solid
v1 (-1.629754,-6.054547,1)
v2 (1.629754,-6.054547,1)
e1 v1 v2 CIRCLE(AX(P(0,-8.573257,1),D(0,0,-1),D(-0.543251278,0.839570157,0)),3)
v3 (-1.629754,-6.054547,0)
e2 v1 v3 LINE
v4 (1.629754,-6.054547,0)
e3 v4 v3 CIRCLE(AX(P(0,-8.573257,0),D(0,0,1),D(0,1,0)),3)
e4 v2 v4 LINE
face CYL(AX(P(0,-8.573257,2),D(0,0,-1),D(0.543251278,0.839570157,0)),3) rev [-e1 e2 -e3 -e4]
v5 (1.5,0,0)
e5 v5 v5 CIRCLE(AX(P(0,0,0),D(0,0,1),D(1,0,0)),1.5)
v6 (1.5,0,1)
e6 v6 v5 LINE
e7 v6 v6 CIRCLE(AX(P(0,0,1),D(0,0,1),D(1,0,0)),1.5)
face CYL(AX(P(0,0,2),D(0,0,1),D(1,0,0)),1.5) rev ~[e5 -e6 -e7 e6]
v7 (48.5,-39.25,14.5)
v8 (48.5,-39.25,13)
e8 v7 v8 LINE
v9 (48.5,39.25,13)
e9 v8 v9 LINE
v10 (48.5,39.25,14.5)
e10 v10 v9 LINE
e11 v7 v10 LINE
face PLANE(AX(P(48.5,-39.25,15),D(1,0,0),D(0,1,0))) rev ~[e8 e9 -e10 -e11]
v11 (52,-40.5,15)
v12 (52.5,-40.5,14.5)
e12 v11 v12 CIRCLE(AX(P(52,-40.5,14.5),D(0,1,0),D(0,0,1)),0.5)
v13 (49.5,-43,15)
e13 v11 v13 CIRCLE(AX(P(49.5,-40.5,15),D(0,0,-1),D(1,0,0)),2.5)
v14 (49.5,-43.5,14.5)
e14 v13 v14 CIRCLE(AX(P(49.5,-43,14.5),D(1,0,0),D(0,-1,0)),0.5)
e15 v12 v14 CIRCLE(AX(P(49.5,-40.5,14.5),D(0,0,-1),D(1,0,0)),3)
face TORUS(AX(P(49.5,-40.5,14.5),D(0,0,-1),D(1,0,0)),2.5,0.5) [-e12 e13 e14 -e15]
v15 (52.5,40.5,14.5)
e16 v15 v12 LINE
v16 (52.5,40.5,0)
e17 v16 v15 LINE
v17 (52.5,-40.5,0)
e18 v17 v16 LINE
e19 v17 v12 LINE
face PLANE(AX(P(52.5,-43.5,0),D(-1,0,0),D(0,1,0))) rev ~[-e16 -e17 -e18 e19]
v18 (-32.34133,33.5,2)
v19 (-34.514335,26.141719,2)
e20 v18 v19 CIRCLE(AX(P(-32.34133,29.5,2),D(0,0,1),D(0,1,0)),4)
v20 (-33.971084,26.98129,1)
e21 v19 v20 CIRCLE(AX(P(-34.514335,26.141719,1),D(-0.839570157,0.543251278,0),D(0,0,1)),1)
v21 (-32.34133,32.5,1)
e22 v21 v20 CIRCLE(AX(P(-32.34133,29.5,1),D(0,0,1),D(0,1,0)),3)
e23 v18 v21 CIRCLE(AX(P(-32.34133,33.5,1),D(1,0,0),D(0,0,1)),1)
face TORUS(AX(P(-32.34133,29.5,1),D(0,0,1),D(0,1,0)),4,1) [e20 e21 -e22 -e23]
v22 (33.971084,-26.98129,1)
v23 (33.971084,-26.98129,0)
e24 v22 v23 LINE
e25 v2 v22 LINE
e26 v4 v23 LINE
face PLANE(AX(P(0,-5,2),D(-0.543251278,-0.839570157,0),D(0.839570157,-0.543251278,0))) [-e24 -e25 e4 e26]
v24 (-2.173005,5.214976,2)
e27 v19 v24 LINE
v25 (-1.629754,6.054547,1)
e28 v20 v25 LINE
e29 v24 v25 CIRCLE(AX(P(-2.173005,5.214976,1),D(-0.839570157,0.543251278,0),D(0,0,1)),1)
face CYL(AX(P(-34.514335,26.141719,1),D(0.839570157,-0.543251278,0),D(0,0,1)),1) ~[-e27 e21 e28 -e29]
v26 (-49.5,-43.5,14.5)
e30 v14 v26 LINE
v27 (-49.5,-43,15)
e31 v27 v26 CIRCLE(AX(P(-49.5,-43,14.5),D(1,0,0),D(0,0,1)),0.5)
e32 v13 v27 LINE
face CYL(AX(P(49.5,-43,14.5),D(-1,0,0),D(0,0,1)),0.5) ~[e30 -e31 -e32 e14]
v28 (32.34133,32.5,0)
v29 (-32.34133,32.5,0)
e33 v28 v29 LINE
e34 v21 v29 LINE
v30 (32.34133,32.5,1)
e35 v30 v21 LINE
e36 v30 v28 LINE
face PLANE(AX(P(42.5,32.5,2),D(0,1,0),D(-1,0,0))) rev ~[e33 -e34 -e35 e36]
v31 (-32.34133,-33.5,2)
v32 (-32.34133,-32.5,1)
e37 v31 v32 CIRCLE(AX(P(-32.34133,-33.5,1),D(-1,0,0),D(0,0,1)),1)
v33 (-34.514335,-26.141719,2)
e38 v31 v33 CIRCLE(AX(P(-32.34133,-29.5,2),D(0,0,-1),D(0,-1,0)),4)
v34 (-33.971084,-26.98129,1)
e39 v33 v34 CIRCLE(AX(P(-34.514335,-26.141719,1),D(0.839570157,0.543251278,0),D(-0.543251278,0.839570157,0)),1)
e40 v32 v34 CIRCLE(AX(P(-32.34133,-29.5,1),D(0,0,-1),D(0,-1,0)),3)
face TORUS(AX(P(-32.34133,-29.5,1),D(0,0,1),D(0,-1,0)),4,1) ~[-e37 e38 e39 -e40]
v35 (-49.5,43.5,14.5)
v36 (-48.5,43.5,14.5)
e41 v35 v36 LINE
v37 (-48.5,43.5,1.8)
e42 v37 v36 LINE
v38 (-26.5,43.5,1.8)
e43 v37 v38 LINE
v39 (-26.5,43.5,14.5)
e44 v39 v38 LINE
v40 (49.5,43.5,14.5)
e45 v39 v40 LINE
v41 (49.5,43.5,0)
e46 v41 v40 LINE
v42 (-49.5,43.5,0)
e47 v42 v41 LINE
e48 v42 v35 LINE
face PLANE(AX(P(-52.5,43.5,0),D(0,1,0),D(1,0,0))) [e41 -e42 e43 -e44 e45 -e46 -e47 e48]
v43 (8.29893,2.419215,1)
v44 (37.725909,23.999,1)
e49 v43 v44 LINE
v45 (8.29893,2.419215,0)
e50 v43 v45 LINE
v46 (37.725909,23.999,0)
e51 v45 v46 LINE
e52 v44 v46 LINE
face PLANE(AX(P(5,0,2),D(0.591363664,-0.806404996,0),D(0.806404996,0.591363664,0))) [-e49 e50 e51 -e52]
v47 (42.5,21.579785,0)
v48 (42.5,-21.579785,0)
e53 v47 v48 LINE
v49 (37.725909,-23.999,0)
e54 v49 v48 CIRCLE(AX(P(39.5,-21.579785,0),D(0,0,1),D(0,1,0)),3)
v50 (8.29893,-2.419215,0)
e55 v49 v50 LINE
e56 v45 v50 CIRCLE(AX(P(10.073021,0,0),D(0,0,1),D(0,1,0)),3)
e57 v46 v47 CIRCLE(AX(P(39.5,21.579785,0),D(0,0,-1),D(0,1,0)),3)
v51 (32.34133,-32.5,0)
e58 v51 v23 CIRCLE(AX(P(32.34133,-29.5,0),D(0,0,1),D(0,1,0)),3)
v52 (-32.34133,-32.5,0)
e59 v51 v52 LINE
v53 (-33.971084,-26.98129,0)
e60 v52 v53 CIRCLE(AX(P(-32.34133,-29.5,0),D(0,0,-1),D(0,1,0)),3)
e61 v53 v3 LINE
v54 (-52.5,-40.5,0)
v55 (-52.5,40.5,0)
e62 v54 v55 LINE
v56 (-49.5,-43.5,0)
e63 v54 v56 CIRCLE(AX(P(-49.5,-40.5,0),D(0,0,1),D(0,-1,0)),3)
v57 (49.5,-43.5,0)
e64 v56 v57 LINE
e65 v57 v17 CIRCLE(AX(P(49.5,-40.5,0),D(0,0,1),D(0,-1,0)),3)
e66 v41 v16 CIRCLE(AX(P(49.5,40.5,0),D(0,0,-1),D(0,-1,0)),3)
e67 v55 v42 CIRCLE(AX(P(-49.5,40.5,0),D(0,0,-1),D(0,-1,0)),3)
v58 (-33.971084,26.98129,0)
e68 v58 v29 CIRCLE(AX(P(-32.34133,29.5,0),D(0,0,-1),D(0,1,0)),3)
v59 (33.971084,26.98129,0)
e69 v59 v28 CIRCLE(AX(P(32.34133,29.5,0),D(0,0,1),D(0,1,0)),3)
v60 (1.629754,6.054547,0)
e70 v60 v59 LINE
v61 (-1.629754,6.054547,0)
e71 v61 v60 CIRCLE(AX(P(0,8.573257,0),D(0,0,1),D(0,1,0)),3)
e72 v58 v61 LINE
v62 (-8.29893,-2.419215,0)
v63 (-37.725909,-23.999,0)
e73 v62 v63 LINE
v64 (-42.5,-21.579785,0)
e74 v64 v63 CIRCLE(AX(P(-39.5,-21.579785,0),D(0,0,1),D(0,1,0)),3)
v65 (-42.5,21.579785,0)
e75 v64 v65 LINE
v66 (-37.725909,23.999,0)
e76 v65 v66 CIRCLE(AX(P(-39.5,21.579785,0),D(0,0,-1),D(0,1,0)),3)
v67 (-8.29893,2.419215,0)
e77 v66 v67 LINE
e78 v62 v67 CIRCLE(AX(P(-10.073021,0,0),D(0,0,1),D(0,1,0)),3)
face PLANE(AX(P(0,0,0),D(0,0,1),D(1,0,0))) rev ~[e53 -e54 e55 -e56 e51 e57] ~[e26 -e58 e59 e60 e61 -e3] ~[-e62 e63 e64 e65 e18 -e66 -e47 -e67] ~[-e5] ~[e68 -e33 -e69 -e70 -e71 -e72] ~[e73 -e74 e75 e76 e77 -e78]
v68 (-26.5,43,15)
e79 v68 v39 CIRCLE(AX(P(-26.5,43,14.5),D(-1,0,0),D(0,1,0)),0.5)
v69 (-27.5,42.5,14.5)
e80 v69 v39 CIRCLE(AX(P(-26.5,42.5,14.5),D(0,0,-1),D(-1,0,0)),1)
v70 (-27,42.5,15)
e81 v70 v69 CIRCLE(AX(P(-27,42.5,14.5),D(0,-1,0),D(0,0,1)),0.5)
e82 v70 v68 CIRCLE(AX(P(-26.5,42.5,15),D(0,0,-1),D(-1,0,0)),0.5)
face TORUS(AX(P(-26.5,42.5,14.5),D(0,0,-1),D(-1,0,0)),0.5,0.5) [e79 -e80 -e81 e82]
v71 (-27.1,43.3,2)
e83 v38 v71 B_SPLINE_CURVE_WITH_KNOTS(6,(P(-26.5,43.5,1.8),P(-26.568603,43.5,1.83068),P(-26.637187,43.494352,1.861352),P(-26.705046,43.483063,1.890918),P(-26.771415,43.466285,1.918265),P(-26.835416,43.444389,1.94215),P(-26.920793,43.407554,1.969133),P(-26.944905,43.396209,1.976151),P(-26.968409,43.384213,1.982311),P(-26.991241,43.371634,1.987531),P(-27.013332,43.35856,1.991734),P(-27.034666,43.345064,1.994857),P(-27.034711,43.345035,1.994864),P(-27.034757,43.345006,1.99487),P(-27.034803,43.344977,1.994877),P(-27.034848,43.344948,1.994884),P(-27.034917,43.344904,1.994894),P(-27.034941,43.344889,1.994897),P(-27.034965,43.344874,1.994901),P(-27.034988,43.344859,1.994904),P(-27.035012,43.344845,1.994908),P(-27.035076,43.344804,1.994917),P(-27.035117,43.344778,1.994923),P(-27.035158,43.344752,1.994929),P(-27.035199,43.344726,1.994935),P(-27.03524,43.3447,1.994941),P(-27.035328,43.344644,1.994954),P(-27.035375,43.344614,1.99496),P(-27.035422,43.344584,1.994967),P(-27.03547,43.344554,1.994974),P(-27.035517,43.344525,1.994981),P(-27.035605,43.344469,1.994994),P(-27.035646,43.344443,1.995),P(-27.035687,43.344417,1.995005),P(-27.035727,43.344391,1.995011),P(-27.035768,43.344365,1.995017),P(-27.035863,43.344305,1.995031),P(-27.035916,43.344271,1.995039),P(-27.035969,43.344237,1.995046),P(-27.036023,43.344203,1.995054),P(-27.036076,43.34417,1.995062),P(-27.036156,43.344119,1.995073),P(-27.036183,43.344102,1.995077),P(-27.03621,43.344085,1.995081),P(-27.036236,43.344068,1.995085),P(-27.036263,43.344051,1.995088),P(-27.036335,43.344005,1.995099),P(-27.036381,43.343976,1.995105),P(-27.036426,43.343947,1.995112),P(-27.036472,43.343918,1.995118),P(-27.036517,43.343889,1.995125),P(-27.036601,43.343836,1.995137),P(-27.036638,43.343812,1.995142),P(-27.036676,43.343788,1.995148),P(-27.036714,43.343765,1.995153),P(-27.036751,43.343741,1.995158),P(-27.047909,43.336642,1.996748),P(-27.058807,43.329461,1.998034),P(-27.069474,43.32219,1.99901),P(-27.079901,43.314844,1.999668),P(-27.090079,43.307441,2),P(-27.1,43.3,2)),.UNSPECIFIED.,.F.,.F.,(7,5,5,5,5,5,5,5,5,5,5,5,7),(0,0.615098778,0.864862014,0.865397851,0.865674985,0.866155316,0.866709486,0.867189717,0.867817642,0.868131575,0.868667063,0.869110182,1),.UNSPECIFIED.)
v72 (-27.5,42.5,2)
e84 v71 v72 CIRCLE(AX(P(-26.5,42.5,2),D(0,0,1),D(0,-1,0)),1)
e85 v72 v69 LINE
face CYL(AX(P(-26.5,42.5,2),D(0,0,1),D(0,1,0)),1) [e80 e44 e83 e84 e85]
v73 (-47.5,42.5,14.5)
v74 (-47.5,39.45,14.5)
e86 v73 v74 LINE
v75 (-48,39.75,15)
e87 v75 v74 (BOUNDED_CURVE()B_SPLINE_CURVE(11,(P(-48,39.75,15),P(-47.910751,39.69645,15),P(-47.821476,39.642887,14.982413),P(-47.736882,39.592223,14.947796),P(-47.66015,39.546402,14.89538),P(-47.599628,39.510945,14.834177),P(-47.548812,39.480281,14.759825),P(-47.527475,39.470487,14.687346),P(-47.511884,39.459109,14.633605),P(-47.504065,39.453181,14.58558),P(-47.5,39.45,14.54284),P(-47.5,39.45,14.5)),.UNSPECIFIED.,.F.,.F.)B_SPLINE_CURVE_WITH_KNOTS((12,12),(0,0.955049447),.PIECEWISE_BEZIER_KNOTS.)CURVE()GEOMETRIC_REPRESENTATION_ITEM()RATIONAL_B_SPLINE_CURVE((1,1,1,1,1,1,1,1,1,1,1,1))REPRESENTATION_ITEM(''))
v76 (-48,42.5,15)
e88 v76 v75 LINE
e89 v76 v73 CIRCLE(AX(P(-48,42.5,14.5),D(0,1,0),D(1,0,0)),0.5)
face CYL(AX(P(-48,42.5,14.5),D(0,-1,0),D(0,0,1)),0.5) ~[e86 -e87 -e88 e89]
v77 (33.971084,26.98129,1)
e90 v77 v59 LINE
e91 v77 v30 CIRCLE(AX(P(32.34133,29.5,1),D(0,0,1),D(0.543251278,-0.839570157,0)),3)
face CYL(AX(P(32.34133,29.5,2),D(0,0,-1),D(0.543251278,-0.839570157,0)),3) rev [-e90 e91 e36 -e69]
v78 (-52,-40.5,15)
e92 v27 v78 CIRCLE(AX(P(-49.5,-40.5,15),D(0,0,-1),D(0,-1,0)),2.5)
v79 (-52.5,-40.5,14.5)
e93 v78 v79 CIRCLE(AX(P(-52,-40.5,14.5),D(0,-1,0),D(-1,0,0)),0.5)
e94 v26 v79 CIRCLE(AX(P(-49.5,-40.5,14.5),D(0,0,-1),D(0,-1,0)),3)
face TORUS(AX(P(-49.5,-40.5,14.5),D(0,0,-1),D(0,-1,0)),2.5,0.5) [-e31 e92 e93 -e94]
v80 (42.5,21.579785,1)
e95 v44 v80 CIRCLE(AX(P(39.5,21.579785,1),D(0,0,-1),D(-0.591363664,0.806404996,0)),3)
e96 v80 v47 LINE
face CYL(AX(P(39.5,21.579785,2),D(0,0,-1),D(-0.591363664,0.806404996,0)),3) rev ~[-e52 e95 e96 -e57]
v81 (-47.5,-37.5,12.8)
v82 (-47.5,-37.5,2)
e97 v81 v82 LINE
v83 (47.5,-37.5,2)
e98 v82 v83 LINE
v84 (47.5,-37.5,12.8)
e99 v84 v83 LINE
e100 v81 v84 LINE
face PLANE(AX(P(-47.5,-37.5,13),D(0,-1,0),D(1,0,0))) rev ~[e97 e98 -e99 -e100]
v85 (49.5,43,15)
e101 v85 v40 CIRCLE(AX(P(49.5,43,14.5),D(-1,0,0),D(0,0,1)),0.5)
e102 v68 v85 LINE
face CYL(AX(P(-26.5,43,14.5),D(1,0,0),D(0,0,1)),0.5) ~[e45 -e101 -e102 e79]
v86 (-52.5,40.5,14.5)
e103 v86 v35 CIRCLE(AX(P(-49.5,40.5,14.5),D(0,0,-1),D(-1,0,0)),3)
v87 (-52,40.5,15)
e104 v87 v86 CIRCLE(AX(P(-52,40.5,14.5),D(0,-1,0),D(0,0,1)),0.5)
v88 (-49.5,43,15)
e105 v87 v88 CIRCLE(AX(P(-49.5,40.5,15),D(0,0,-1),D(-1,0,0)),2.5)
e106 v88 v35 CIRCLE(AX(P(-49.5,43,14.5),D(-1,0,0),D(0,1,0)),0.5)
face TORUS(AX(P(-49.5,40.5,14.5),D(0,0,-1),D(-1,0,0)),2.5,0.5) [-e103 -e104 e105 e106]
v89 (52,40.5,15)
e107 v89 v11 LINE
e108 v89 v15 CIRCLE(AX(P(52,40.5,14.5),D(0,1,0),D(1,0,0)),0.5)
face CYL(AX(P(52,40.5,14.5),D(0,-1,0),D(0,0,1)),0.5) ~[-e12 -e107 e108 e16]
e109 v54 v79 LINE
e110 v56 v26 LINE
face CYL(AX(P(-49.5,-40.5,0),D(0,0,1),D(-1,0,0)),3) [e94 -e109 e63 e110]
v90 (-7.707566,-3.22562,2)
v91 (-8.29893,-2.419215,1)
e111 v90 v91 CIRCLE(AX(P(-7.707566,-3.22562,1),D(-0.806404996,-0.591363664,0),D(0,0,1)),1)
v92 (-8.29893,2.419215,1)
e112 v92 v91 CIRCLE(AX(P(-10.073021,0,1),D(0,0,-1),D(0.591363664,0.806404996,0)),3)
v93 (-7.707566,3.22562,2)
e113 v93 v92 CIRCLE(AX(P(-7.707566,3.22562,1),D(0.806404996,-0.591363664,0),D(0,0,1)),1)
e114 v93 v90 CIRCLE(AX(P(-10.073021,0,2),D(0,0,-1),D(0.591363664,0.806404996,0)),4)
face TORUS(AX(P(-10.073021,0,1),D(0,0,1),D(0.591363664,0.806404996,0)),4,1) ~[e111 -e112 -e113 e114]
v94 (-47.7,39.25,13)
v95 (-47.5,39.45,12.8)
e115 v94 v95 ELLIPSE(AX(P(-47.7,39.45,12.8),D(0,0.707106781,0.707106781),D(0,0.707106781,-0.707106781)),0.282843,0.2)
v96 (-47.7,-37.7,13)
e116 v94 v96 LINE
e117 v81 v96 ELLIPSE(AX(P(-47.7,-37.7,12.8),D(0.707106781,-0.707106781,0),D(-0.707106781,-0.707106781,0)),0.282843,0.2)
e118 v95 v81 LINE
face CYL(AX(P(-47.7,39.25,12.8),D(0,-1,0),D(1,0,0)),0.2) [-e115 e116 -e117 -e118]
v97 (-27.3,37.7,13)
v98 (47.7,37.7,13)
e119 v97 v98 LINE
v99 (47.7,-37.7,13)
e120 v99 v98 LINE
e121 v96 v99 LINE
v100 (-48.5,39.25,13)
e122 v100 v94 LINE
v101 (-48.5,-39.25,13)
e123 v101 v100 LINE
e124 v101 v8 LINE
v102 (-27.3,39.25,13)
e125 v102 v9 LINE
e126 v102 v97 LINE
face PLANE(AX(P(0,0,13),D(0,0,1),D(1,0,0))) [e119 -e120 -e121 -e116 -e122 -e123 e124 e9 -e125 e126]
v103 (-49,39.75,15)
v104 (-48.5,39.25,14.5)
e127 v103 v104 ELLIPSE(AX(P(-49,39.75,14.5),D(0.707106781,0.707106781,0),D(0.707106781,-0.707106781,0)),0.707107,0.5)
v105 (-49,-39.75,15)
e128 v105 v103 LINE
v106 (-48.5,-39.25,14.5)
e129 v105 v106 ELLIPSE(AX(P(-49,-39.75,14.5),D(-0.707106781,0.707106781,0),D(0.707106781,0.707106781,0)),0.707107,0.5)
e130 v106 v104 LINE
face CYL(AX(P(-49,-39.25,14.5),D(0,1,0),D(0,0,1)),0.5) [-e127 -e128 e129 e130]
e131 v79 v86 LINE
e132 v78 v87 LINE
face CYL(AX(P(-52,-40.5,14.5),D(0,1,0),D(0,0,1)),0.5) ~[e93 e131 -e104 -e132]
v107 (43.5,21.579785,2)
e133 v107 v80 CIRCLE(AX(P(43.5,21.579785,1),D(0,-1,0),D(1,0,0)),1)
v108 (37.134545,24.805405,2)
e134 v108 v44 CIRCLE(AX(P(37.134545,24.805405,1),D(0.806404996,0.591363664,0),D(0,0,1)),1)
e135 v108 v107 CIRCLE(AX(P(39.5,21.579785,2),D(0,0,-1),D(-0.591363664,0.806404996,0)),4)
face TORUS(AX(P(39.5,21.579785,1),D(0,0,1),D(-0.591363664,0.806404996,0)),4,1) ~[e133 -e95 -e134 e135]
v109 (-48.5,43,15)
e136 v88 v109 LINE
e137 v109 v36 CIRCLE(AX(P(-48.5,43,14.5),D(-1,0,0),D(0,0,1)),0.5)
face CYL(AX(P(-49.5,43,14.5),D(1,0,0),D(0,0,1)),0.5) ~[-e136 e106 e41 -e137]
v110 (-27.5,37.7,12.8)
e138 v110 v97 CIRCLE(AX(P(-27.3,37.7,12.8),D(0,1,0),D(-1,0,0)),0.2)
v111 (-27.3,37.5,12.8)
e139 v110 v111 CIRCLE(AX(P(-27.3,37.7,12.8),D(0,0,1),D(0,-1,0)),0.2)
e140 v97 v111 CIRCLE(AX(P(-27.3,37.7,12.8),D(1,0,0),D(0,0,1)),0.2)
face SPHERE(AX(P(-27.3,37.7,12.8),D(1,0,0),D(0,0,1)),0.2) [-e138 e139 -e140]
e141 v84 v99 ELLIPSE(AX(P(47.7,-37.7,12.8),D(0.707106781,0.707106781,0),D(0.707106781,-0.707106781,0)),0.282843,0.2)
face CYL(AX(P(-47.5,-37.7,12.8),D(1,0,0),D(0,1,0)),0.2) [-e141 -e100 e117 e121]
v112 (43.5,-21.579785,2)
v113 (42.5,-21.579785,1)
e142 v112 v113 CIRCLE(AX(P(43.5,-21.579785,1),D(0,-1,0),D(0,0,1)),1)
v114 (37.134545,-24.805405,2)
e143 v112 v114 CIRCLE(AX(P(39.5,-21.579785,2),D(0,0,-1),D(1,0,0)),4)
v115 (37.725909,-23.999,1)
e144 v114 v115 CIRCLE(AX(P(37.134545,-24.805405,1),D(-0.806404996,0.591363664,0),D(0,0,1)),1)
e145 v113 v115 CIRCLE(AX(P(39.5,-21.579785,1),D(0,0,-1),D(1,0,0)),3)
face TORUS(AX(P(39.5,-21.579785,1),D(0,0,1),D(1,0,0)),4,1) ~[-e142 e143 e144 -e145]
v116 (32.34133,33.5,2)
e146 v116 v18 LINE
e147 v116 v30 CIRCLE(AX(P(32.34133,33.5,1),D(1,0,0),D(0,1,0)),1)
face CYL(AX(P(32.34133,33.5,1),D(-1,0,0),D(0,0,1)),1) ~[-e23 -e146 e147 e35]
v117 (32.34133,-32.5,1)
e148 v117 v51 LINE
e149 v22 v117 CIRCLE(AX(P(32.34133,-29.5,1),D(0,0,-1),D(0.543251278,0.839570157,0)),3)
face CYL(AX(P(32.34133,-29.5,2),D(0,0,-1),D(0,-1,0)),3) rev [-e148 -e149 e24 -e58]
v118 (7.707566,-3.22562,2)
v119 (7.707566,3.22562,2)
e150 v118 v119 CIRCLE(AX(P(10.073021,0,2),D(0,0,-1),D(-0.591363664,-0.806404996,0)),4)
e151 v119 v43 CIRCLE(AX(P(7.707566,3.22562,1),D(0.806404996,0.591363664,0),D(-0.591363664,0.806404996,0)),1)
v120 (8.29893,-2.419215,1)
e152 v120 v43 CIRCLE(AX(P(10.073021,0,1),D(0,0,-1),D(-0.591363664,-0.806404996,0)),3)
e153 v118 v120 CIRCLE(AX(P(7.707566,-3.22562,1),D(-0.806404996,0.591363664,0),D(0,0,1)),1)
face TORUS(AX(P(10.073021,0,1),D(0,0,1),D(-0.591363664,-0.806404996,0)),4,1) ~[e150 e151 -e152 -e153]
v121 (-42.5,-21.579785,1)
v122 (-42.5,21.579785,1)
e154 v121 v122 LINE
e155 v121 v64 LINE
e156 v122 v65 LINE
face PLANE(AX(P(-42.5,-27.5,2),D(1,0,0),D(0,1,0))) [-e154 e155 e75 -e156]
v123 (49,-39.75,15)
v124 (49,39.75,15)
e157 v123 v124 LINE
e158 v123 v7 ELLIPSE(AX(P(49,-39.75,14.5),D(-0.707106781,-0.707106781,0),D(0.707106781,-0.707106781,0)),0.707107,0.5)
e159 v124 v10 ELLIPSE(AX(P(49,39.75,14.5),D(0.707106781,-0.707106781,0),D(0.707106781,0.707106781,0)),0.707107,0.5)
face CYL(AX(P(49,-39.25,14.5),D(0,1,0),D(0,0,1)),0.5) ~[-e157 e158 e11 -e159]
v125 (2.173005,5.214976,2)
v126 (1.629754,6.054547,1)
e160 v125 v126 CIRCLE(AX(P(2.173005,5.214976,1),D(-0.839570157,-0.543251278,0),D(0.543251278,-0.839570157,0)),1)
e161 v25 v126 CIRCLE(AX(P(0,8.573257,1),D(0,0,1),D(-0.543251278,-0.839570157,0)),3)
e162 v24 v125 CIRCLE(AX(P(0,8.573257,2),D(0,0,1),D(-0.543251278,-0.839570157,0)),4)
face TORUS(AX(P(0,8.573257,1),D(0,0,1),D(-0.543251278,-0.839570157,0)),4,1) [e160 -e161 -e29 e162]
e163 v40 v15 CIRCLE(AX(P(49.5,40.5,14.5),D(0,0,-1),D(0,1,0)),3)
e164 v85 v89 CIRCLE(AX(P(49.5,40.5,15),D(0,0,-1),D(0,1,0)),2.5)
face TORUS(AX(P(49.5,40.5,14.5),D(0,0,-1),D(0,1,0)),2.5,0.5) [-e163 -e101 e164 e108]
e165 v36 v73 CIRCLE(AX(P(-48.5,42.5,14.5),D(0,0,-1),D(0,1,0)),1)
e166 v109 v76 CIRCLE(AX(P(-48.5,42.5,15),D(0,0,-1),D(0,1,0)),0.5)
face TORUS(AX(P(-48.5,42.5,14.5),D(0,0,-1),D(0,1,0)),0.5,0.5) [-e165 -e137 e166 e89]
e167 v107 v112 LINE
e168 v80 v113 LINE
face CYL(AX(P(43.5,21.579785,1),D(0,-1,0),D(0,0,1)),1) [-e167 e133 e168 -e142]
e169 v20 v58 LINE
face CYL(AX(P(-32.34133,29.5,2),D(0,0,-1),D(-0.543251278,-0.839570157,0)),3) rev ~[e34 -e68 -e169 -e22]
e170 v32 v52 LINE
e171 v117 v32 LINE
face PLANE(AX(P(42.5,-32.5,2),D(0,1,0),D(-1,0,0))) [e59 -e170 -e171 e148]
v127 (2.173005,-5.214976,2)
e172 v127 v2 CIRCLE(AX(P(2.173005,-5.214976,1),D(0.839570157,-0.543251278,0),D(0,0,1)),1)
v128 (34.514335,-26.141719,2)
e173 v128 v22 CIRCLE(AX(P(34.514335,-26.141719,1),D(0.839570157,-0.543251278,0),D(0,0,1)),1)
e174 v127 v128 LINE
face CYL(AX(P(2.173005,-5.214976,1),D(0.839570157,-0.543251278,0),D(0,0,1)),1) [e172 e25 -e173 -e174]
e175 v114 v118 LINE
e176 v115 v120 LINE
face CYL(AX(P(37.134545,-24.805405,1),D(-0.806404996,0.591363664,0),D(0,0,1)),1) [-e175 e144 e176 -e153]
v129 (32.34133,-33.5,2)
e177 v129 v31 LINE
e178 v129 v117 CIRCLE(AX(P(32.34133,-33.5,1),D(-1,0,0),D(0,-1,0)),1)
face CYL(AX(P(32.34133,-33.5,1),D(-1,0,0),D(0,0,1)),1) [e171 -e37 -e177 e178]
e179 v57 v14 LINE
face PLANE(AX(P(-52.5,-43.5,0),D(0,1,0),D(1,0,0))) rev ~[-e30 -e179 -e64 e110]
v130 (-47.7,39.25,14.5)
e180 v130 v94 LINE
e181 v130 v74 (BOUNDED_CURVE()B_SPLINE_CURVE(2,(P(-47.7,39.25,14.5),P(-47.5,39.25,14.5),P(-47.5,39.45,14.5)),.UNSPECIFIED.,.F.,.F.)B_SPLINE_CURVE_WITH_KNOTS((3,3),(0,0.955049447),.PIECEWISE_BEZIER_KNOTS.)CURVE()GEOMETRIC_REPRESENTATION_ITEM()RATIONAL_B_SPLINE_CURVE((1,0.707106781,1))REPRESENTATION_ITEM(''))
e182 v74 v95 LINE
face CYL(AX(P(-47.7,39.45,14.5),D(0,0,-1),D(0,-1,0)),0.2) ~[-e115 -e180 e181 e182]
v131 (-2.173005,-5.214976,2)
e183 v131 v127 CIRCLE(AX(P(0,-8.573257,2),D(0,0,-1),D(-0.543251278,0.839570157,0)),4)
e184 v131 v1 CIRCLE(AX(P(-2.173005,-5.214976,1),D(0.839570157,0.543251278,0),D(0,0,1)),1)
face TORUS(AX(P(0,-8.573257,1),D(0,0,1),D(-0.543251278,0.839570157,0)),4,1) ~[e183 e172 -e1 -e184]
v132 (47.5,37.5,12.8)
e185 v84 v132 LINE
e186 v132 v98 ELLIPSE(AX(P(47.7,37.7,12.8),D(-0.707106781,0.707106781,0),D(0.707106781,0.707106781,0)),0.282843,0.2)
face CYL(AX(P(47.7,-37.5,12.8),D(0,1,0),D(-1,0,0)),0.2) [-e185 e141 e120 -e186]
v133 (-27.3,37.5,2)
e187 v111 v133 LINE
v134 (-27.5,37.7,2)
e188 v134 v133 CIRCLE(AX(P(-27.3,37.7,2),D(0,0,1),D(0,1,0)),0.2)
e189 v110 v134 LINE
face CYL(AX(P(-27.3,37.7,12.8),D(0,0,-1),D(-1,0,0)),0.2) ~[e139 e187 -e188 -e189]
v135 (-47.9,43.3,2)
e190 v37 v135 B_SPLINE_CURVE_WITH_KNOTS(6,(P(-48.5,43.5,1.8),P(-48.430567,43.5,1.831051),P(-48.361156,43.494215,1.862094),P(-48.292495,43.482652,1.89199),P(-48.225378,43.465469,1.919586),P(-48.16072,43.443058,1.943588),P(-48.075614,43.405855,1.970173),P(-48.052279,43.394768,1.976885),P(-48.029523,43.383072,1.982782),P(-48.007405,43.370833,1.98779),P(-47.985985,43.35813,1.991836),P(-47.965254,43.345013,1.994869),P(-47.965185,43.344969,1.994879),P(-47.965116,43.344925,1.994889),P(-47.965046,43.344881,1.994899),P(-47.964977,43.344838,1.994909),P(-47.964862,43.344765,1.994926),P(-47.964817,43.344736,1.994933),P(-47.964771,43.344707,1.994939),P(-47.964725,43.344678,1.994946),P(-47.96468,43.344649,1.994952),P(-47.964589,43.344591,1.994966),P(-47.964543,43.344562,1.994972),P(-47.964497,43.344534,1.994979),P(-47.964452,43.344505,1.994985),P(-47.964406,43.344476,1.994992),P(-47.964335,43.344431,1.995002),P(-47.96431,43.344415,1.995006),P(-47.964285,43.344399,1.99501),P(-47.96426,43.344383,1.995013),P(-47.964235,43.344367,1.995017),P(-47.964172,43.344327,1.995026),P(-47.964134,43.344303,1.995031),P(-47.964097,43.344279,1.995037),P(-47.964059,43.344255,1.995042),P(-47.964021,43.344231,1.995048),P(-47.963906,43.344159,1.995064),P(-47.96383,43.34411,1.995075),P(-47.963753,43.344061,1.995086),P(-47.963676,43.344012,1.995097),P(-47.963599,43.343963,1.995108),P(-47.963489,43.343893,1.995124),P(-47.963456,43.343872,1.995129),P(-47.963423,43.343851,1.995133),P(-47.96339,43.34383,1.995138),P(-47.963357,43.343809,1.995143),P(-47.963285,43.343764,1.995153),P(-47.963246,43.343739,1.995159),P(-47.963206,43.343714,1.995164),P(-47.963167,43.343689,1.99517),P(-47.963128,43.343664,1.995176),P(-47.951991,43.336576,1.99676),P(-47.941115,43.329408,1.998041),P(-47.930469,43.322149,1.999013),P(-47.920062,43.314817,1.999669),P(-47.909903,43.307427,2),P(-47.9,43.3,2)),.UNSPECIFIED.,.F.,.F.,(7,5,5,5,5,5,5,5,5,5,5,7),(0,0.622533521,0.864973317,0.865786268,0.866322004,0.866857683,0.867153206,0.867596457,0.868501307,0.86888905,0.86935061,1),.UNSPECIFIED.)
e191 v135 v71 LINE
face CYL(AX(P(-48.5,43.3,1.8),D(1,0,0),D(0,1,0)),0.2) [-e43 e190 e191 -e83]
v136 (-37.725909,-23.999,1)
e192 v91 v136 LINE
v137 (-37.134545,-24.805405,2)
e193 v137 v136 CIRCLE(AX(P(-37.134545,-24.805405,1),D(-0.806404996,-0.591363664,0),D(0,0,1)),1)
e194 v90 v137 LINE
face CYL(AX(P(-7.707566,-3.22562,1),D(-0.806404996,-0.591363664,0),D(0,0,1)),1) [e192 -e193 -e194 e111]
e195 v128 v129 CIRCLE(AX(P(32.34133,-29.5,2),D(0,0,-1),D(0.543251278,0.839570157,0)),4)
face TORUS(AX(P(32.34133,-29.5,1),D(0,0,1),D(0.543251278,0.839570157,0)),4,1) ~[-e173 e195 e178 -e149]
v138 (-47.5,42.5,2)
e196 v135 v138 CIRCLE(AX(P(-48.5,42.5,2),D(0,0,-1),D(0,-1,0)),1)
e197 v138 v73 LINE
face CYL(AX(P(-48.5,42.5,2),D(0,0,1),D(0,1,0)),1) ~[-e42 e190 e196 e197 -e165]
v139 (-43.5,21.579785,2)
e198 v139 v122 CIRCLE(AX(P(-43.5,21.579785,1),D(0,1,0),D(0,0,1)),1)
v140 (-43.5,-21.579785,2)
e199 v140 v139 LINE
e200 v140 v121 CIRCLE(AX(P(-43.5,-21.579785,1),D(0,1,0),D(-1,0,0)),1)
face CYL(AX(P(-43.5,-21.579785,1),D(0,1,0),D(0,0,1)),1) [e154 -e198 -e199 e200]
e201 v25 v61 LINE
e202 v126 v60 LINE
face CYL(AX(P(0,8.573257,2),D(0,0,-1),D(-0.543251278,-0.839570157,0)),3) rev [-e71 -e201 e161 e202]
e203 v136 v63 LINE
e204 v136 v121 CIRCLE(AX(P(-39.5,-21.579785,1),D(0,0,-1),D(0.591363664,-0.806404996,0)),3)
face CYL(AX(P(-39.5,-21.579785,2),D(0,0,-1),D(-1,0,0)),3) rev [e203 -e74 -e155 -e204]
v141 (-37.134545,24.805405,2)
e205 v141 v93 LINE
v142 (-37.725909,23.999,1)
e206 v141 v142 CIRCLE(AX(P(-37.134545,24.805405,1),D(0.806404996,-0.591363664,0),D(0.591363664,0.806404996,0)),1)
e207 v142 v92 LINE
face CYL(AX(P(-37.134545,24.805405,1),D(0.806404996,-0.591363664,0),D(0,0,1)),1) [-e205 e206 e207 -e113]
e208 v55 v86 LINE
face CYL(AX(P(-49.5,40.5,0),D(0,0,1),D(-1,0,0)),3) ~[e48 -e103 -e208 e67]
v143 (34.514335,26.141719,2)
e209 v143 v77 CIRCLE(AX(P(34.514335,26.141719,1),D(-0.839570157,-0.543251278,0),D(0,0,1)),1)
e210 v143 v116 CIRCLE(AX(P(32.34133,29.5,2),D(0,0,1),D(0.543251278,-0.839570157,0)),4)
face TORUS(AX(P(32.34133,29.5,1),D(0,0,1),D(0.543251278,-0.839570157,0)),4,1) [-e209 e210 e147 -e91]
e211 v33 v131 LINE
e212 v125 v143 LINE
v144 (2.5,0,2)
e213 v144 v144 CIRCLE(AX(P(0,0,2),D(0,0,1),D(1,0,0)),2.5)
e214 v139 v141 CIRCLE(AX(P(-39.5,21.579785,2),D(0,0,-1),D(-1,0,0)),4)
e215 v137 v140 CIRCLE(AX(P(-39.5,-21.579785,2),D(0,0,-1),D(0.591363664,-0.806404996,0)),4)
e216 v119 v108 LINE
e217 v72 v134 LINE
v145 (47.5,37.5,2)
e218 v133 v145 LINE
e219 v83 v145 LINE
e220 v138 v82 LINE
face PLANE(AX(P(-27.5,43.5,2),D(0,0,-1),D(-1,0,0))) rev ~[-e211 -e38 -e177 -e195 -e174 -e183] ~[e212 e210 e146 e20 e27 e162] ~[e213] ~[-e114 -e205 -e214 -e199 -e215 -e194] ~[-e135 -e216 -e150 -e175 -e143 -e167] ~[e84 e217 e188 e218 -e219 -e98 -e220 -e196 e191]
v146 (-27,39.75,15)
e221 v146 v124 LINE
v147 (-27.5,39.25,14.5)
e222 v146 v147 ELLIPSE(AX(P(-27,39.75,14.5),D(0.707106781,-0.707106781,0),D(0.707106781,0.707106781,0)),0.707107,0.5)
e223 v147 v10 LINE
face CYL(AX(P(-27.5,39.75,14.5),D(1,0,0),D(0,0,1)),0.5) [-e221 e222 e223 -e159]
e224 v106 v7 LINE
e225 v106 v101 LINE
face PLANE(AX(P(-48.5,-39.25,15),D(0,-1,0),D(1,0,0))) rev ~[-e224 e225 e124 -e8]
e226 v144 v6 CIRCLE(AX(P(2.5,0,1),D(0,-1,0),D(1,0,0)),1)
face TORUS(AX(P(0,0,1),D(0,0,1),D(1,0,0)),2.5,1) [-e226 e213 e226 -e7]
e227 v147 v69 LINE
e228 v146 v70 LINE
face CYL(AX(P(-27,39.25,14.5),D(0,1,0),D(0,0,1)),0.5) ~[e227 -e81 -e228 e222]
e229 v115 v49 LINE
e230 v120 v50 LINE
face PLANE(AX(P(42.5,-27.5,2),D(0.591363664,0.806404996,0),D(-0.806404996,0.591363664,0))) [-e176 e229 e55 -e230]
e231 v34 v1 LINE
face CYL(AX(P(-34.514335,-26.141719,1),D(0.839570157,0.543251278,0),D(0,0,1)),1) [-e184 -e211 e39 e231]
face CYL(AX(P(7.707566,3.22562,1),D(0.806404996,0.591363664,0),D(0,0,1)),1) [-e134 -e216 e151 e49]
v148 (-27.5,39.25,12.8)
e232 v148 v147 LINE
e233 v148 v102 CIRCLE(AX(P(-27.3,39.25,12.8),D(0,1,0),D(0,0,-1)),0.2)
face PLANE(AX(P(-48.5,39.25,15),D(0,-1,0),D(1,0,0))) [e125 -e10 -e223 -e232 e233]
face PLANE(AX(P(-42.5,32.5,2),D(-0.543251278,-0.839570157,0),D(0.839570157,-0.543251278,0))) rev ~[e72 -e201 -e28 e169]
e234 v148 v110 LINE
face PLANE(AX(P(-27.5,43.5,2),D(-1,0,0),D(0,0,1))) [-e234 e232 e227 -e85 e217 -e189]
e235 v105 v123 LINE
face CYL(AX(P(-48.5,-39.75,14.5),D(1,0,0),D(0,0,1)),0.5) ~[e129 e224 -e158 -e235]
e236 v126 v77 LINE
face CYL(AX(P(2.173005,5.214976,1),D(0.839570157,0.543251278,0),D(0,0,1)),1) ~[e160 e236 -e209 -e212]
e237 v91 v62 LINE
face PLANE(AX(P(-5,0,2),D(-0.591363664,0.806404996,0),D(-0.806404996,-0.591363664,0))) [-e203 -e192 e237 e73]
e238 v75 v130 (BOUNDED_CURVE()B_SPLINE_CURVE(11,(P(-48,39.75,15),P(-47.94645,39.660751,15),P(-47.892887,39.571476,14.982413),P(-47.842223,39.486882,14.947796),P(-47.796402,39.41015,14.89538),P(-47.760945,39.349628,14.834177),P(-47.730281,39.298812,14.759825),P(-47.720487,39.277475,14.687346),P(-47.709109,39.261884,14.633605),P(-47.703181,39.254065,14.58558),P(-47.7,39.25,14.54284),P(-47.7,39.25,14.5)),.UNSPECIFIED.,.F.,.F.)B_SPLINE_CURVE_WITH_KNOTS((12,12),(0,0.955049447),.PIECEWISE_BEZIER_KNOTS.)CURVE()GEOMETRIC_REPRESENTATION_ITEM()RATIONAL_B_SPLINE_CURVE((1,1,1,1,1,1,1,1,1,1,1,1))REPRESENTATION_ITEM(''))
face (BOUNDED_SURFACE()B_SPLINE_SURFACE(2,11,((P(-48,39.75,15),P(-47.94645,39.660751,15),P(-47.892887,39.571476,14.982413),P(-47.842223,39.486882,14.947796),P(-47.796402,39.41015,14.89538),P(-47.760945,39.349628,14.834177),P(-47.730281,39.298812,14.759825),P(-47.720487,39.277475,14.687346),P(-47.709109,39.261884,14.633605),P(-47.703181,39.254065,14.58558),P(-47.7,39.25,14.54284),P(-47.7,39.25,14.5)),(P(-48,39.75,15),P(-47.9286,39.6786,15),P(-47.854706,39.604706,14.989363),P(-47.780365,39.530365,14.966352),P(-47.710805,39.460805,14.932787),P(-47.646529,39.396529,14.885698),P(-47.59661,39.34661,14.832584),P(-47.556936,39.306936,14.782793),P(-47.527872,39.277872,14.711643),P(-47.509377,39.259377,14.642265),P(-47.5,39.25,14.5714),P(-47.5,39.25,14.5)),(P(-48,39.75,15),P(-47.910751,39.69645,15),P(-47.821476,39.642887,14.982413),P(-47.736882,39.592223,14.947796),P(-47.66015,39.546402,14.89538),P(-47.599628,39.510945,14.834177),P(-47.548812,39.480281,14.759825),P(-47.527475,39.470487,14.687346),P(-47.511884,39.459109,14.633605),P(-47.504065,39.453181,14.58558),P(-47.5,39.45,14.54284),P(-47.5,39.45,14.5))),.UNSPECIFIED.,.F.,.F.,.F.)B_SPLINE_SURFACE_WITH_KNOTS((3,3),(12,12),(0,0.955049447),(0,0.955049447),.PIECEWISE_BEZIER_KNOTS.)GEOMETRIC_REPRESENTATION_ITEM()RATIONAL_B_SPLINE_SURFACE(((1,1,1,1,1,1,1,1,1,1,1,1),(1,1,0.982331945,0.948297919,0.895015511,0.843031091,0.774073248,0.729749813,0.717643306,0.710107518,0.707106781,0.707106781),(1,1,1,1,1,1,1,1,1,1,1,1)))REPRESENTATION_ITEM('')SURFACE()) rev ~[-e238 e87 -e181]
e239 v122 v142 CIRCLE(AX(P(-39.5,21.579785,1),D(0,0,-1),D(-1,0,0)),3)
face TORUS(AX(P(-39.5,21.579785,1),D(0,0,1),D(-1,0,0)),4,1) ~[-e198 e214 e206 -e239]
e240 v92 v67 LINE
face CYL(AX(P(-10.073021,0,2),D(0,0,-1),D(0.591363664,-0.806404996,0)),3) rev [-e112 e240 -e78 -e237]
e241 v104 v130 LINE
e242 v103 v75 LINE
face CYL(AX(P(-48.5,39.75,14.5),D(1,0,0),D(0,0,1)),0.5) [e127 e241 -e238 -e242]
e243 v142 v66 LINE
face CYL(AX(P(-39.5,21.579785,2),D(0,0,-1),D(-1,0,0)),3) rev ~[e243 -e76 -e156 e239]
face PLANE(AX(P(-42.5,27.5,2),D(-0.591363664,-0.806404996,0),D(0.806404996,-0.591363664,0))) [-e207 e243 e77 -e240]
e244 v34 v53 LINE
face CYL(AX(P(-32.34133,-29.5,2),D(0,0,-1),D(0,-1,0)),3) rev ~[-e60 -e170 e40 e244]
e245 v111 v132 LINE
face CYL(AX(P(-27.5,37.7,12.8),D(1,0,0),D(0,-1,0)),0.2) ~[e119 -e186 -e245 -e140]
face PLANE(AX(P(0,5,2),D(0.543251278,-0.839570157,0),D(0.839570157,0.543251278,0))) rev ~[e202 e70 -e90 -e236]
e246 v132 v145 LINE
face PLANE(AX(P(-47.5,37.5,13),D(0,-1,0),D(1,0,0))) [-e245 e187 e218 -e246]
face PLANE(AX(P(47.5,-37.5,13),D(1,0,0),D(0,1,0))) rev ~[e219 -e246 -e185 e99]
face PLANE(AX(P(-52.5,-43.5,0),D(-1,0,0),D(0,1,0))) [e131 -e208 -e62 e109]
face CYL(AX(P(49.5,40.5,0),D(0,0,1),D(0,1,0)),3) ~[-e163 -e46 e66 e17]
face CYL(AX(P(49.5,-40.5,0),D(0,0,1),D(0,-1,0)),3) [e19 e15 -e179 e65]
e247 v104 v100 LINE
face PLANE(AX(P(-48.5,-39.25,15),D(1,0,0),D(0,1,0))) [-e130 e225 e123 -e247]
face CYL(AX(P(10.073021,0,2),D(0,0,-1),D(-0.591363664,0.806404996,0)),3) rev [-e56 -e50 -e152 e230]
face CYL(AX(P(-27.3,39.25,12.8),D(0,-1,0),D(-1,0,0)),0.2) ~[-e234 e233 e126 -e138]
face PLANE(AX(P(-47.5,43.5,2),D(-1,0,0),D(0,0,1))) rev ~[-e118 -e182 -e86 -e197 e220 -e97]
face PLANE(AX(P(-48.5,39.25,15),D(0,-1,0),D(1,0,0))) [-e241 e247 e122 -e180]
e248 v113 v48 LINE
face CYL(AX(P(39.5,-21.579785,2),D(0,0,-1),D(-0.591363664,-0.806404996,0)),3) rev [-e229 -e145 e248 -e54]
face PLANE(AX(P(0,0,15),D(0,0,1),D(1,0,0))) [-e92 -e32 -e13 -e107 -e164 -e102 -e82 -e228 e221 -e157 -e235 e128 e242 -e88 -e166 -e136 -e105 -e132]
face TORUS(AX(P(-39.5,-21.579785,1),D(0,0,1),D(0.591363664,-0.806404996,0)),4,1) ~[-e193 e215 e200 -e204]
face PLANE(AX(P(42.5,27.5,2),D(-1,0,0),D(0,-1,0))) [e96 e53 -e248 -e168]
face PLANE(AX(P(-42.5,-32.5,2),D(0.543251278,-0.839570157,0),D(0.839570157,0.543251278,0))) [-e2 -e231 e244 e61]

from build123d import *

# Parameters (mm, degrees)
SKETCH_W        = 105
SKETCH_H        = 87
PAD_DEPTH       = 15
SKETCH001_W     = 97
SKETCH001_H     = 78.5
POCKET_DEPTH    = 2
SKETCH002_W     = 95
SKETCH002_H     = 75
POCKET001_DEPTH = 11
SKETCH003_W     = 20
SKETCH003_H     = 13
POCKET002_DEPTH = 6
POCKET003_DEPTH = 2
FILLET_R        = 3
FILLET001_R     = 1
FILLET002_R     = 0.5
FILLET003_R     = 1
FILLET004_R     = 0.2
FILLET005_R     = 0.2
SKETCH005_R     = 1.5
POCKET004_DEPTH = 5
FILLET006_R     = 1


with BuildPart() as part:
    # Sketch → Pad (new body)
    with BuildSketch(Plane.XY):
        Rectangle(SKETCH_W, SKETCH_H)
    extrude(amount=PAD_DEPTH)

    # Sketch001 (on Face6 of Pad) → Pocket (cut)
    with BuildSketch(Plane.XY.offset(15)):
        Rectangle(SKETCH001_W, SKETCH001_H)
    extrude(amount=-POCKET_DEPTH, mode=Mode.SUBTRACT)

    # Sketch002 (on Face11 of Pocket) → Pocket001 (cut)
    with BuildSketch(Plane.XY.offset(13)):
        Rectangle(SKETCH002_W, SKETCH002_H)
    extrude(amount=-POCKET001_DEPTH, mode=Mode.SUBTRACT)

    # Sketch003 (on Face1 of Pocket001) → Pocket002 (cut)
    with BuildSketch(Plane(origin=(0, 43.5, 0), x_dir=(-1, 0, 0), z_dir=(0, 1, 0))):
        with Locations((37.5, 8.5)):
            Rectangle(SKETCH003_W, SKETCH003_H)
    extrude(amount=-POCKET002_DEPTH, mode=Mode.SUBTRACT)

    # Sketch004 (on Face17 of Pocket002) → Pocket003 (cut)
    with BuildSketch(Plane.XY.offset(2)):
        Polygon((-42.5, 32.5), (0, 5), (42.5, 32.5), align=None)
        Polygon((-42.5, -32.5), (0, -5), (42.5, -32.5), align=None)
        Polygon((42.5, 27.5), (42.5, -27.5), (5, 0), align=None)
        Polygon((-42.5, 27.5), (-5, 0), (-42.5, -27.5), align=None)
    extrude(amount=-POCKET003_DEPTH, mode=Mode.SUBTRACT)

    # Fillet
    fillet_edges = [part.edges().sort_by_distance(p)[0] for p in [
        (0, 5, 1),
        (-5, 0, 1),
        (0, -5, 1),
        (5, 0, 1),
        (-42.5, 32.5, 1),
        (-42.5, 27.5, 1),
        (-42.5, -32.5, 1),
        (-42.5, -27.5, 1),
        (42.5, 32.5, 1),
        (42.5, 27.5, 1),
        (42.5, -32.5, 1),
        (42.5, -27.5, 1),
        (52.5, -43.5, 7.5),
        (-52.5, -43.5, 7.5),
        (52.5, 43.5, 7.5),
        (-52.5, 43.5, 7.5),
    ]]
    fillet(fillet_edges, radius=FILLET_R)

    # Fillet001
    fillet001_edges = [part.edges().sort_by_distance(p)[0] for p in [
        (-27.5, 43.5, 8.5),
        (-47.5, 43.5, 8.5),
    ]]
    fillet(fillet001_edges, radius=FILLET001_R)

    # Fillet002
    fillet002_edges = [part.edges().sort_by_distance(p)[0] for p in [
        (-49, 43.5, 15),
        (-47.792893, 43.207107, 15),
        (-51.62132, 42.62132, 15),
        (-47.5, 40.875, 15),
        (-52.5, 0, 15),
        (-48, 39.25, 15),
        (-51.62132, -42.62132, 15),
        (-48.5, 0, 15),
        (0, -43.5, 15),
        (0, -39.25, 15),
        (51.62132, -42.62132, 15),
        (48.5, 0, 15),
        (52.5, 0, 15),
        (10.5, 39.25, 15),
        (51.62132, 42.62132, 15),
        (-27.5, 40.875, 15),
        (11.5, 43.5, 15),
        (-27.207107, 43.207107, 15),
    ]]
    fillet(fillet002_edges, radius=FILLET002_R)

    # Fillet003
    fillet003_edges = [part.edges().sort_by_distance(p)[0] for p in [
        (-17.800419, 16.517918, 2),
        (-23.012419, -13.209107, 2),
        (17.800419, -16.517918, 2),
        (23.012419, -13.209107, 2),
    ]]
    fillet(fillet003_edges, radius=FILLET003_R)

    # Fillet004
    fillet004_edges = [part.edges().sort_by_distance(p)[0] for p in [
        (-47.5, 0, 13),
        (10, 37.5, 13),
        (0, -37.5, 13),
        (47.5, 0, 13),
    ]]
    fillet(fillet004_edges, radius=FILLET004_R)

    # Fillet005
    fillet005_edges = [part.edges().sort_by_distance(p)[0] for p in [
        (-27.5, 38.475, 13),
        (-47.5, 39.25, 13.75),
        (-37.5, 43.5, 2),
    ]]
    fillet(fillet005_edges, radius=FILLET005_R)

    # Sketch005 (on Face1 of Fillet005) → Pocket004 (cut)
    with BuildSketch(Plane.XY.offset(2)):
        Circle(SKETCH005_R)
    extrude(amount=-POCKET004_DEPTH, mode=Mode.SUBTRACT)

    # Fillet006
    fillet006_edges = [part.edges().sort_by_distance(p)[0] for p in [
        (-1.5, 0, 2),
    ]]
    fillet(fillet006_edges, radius=FILLET006_R)


solid = part.part
